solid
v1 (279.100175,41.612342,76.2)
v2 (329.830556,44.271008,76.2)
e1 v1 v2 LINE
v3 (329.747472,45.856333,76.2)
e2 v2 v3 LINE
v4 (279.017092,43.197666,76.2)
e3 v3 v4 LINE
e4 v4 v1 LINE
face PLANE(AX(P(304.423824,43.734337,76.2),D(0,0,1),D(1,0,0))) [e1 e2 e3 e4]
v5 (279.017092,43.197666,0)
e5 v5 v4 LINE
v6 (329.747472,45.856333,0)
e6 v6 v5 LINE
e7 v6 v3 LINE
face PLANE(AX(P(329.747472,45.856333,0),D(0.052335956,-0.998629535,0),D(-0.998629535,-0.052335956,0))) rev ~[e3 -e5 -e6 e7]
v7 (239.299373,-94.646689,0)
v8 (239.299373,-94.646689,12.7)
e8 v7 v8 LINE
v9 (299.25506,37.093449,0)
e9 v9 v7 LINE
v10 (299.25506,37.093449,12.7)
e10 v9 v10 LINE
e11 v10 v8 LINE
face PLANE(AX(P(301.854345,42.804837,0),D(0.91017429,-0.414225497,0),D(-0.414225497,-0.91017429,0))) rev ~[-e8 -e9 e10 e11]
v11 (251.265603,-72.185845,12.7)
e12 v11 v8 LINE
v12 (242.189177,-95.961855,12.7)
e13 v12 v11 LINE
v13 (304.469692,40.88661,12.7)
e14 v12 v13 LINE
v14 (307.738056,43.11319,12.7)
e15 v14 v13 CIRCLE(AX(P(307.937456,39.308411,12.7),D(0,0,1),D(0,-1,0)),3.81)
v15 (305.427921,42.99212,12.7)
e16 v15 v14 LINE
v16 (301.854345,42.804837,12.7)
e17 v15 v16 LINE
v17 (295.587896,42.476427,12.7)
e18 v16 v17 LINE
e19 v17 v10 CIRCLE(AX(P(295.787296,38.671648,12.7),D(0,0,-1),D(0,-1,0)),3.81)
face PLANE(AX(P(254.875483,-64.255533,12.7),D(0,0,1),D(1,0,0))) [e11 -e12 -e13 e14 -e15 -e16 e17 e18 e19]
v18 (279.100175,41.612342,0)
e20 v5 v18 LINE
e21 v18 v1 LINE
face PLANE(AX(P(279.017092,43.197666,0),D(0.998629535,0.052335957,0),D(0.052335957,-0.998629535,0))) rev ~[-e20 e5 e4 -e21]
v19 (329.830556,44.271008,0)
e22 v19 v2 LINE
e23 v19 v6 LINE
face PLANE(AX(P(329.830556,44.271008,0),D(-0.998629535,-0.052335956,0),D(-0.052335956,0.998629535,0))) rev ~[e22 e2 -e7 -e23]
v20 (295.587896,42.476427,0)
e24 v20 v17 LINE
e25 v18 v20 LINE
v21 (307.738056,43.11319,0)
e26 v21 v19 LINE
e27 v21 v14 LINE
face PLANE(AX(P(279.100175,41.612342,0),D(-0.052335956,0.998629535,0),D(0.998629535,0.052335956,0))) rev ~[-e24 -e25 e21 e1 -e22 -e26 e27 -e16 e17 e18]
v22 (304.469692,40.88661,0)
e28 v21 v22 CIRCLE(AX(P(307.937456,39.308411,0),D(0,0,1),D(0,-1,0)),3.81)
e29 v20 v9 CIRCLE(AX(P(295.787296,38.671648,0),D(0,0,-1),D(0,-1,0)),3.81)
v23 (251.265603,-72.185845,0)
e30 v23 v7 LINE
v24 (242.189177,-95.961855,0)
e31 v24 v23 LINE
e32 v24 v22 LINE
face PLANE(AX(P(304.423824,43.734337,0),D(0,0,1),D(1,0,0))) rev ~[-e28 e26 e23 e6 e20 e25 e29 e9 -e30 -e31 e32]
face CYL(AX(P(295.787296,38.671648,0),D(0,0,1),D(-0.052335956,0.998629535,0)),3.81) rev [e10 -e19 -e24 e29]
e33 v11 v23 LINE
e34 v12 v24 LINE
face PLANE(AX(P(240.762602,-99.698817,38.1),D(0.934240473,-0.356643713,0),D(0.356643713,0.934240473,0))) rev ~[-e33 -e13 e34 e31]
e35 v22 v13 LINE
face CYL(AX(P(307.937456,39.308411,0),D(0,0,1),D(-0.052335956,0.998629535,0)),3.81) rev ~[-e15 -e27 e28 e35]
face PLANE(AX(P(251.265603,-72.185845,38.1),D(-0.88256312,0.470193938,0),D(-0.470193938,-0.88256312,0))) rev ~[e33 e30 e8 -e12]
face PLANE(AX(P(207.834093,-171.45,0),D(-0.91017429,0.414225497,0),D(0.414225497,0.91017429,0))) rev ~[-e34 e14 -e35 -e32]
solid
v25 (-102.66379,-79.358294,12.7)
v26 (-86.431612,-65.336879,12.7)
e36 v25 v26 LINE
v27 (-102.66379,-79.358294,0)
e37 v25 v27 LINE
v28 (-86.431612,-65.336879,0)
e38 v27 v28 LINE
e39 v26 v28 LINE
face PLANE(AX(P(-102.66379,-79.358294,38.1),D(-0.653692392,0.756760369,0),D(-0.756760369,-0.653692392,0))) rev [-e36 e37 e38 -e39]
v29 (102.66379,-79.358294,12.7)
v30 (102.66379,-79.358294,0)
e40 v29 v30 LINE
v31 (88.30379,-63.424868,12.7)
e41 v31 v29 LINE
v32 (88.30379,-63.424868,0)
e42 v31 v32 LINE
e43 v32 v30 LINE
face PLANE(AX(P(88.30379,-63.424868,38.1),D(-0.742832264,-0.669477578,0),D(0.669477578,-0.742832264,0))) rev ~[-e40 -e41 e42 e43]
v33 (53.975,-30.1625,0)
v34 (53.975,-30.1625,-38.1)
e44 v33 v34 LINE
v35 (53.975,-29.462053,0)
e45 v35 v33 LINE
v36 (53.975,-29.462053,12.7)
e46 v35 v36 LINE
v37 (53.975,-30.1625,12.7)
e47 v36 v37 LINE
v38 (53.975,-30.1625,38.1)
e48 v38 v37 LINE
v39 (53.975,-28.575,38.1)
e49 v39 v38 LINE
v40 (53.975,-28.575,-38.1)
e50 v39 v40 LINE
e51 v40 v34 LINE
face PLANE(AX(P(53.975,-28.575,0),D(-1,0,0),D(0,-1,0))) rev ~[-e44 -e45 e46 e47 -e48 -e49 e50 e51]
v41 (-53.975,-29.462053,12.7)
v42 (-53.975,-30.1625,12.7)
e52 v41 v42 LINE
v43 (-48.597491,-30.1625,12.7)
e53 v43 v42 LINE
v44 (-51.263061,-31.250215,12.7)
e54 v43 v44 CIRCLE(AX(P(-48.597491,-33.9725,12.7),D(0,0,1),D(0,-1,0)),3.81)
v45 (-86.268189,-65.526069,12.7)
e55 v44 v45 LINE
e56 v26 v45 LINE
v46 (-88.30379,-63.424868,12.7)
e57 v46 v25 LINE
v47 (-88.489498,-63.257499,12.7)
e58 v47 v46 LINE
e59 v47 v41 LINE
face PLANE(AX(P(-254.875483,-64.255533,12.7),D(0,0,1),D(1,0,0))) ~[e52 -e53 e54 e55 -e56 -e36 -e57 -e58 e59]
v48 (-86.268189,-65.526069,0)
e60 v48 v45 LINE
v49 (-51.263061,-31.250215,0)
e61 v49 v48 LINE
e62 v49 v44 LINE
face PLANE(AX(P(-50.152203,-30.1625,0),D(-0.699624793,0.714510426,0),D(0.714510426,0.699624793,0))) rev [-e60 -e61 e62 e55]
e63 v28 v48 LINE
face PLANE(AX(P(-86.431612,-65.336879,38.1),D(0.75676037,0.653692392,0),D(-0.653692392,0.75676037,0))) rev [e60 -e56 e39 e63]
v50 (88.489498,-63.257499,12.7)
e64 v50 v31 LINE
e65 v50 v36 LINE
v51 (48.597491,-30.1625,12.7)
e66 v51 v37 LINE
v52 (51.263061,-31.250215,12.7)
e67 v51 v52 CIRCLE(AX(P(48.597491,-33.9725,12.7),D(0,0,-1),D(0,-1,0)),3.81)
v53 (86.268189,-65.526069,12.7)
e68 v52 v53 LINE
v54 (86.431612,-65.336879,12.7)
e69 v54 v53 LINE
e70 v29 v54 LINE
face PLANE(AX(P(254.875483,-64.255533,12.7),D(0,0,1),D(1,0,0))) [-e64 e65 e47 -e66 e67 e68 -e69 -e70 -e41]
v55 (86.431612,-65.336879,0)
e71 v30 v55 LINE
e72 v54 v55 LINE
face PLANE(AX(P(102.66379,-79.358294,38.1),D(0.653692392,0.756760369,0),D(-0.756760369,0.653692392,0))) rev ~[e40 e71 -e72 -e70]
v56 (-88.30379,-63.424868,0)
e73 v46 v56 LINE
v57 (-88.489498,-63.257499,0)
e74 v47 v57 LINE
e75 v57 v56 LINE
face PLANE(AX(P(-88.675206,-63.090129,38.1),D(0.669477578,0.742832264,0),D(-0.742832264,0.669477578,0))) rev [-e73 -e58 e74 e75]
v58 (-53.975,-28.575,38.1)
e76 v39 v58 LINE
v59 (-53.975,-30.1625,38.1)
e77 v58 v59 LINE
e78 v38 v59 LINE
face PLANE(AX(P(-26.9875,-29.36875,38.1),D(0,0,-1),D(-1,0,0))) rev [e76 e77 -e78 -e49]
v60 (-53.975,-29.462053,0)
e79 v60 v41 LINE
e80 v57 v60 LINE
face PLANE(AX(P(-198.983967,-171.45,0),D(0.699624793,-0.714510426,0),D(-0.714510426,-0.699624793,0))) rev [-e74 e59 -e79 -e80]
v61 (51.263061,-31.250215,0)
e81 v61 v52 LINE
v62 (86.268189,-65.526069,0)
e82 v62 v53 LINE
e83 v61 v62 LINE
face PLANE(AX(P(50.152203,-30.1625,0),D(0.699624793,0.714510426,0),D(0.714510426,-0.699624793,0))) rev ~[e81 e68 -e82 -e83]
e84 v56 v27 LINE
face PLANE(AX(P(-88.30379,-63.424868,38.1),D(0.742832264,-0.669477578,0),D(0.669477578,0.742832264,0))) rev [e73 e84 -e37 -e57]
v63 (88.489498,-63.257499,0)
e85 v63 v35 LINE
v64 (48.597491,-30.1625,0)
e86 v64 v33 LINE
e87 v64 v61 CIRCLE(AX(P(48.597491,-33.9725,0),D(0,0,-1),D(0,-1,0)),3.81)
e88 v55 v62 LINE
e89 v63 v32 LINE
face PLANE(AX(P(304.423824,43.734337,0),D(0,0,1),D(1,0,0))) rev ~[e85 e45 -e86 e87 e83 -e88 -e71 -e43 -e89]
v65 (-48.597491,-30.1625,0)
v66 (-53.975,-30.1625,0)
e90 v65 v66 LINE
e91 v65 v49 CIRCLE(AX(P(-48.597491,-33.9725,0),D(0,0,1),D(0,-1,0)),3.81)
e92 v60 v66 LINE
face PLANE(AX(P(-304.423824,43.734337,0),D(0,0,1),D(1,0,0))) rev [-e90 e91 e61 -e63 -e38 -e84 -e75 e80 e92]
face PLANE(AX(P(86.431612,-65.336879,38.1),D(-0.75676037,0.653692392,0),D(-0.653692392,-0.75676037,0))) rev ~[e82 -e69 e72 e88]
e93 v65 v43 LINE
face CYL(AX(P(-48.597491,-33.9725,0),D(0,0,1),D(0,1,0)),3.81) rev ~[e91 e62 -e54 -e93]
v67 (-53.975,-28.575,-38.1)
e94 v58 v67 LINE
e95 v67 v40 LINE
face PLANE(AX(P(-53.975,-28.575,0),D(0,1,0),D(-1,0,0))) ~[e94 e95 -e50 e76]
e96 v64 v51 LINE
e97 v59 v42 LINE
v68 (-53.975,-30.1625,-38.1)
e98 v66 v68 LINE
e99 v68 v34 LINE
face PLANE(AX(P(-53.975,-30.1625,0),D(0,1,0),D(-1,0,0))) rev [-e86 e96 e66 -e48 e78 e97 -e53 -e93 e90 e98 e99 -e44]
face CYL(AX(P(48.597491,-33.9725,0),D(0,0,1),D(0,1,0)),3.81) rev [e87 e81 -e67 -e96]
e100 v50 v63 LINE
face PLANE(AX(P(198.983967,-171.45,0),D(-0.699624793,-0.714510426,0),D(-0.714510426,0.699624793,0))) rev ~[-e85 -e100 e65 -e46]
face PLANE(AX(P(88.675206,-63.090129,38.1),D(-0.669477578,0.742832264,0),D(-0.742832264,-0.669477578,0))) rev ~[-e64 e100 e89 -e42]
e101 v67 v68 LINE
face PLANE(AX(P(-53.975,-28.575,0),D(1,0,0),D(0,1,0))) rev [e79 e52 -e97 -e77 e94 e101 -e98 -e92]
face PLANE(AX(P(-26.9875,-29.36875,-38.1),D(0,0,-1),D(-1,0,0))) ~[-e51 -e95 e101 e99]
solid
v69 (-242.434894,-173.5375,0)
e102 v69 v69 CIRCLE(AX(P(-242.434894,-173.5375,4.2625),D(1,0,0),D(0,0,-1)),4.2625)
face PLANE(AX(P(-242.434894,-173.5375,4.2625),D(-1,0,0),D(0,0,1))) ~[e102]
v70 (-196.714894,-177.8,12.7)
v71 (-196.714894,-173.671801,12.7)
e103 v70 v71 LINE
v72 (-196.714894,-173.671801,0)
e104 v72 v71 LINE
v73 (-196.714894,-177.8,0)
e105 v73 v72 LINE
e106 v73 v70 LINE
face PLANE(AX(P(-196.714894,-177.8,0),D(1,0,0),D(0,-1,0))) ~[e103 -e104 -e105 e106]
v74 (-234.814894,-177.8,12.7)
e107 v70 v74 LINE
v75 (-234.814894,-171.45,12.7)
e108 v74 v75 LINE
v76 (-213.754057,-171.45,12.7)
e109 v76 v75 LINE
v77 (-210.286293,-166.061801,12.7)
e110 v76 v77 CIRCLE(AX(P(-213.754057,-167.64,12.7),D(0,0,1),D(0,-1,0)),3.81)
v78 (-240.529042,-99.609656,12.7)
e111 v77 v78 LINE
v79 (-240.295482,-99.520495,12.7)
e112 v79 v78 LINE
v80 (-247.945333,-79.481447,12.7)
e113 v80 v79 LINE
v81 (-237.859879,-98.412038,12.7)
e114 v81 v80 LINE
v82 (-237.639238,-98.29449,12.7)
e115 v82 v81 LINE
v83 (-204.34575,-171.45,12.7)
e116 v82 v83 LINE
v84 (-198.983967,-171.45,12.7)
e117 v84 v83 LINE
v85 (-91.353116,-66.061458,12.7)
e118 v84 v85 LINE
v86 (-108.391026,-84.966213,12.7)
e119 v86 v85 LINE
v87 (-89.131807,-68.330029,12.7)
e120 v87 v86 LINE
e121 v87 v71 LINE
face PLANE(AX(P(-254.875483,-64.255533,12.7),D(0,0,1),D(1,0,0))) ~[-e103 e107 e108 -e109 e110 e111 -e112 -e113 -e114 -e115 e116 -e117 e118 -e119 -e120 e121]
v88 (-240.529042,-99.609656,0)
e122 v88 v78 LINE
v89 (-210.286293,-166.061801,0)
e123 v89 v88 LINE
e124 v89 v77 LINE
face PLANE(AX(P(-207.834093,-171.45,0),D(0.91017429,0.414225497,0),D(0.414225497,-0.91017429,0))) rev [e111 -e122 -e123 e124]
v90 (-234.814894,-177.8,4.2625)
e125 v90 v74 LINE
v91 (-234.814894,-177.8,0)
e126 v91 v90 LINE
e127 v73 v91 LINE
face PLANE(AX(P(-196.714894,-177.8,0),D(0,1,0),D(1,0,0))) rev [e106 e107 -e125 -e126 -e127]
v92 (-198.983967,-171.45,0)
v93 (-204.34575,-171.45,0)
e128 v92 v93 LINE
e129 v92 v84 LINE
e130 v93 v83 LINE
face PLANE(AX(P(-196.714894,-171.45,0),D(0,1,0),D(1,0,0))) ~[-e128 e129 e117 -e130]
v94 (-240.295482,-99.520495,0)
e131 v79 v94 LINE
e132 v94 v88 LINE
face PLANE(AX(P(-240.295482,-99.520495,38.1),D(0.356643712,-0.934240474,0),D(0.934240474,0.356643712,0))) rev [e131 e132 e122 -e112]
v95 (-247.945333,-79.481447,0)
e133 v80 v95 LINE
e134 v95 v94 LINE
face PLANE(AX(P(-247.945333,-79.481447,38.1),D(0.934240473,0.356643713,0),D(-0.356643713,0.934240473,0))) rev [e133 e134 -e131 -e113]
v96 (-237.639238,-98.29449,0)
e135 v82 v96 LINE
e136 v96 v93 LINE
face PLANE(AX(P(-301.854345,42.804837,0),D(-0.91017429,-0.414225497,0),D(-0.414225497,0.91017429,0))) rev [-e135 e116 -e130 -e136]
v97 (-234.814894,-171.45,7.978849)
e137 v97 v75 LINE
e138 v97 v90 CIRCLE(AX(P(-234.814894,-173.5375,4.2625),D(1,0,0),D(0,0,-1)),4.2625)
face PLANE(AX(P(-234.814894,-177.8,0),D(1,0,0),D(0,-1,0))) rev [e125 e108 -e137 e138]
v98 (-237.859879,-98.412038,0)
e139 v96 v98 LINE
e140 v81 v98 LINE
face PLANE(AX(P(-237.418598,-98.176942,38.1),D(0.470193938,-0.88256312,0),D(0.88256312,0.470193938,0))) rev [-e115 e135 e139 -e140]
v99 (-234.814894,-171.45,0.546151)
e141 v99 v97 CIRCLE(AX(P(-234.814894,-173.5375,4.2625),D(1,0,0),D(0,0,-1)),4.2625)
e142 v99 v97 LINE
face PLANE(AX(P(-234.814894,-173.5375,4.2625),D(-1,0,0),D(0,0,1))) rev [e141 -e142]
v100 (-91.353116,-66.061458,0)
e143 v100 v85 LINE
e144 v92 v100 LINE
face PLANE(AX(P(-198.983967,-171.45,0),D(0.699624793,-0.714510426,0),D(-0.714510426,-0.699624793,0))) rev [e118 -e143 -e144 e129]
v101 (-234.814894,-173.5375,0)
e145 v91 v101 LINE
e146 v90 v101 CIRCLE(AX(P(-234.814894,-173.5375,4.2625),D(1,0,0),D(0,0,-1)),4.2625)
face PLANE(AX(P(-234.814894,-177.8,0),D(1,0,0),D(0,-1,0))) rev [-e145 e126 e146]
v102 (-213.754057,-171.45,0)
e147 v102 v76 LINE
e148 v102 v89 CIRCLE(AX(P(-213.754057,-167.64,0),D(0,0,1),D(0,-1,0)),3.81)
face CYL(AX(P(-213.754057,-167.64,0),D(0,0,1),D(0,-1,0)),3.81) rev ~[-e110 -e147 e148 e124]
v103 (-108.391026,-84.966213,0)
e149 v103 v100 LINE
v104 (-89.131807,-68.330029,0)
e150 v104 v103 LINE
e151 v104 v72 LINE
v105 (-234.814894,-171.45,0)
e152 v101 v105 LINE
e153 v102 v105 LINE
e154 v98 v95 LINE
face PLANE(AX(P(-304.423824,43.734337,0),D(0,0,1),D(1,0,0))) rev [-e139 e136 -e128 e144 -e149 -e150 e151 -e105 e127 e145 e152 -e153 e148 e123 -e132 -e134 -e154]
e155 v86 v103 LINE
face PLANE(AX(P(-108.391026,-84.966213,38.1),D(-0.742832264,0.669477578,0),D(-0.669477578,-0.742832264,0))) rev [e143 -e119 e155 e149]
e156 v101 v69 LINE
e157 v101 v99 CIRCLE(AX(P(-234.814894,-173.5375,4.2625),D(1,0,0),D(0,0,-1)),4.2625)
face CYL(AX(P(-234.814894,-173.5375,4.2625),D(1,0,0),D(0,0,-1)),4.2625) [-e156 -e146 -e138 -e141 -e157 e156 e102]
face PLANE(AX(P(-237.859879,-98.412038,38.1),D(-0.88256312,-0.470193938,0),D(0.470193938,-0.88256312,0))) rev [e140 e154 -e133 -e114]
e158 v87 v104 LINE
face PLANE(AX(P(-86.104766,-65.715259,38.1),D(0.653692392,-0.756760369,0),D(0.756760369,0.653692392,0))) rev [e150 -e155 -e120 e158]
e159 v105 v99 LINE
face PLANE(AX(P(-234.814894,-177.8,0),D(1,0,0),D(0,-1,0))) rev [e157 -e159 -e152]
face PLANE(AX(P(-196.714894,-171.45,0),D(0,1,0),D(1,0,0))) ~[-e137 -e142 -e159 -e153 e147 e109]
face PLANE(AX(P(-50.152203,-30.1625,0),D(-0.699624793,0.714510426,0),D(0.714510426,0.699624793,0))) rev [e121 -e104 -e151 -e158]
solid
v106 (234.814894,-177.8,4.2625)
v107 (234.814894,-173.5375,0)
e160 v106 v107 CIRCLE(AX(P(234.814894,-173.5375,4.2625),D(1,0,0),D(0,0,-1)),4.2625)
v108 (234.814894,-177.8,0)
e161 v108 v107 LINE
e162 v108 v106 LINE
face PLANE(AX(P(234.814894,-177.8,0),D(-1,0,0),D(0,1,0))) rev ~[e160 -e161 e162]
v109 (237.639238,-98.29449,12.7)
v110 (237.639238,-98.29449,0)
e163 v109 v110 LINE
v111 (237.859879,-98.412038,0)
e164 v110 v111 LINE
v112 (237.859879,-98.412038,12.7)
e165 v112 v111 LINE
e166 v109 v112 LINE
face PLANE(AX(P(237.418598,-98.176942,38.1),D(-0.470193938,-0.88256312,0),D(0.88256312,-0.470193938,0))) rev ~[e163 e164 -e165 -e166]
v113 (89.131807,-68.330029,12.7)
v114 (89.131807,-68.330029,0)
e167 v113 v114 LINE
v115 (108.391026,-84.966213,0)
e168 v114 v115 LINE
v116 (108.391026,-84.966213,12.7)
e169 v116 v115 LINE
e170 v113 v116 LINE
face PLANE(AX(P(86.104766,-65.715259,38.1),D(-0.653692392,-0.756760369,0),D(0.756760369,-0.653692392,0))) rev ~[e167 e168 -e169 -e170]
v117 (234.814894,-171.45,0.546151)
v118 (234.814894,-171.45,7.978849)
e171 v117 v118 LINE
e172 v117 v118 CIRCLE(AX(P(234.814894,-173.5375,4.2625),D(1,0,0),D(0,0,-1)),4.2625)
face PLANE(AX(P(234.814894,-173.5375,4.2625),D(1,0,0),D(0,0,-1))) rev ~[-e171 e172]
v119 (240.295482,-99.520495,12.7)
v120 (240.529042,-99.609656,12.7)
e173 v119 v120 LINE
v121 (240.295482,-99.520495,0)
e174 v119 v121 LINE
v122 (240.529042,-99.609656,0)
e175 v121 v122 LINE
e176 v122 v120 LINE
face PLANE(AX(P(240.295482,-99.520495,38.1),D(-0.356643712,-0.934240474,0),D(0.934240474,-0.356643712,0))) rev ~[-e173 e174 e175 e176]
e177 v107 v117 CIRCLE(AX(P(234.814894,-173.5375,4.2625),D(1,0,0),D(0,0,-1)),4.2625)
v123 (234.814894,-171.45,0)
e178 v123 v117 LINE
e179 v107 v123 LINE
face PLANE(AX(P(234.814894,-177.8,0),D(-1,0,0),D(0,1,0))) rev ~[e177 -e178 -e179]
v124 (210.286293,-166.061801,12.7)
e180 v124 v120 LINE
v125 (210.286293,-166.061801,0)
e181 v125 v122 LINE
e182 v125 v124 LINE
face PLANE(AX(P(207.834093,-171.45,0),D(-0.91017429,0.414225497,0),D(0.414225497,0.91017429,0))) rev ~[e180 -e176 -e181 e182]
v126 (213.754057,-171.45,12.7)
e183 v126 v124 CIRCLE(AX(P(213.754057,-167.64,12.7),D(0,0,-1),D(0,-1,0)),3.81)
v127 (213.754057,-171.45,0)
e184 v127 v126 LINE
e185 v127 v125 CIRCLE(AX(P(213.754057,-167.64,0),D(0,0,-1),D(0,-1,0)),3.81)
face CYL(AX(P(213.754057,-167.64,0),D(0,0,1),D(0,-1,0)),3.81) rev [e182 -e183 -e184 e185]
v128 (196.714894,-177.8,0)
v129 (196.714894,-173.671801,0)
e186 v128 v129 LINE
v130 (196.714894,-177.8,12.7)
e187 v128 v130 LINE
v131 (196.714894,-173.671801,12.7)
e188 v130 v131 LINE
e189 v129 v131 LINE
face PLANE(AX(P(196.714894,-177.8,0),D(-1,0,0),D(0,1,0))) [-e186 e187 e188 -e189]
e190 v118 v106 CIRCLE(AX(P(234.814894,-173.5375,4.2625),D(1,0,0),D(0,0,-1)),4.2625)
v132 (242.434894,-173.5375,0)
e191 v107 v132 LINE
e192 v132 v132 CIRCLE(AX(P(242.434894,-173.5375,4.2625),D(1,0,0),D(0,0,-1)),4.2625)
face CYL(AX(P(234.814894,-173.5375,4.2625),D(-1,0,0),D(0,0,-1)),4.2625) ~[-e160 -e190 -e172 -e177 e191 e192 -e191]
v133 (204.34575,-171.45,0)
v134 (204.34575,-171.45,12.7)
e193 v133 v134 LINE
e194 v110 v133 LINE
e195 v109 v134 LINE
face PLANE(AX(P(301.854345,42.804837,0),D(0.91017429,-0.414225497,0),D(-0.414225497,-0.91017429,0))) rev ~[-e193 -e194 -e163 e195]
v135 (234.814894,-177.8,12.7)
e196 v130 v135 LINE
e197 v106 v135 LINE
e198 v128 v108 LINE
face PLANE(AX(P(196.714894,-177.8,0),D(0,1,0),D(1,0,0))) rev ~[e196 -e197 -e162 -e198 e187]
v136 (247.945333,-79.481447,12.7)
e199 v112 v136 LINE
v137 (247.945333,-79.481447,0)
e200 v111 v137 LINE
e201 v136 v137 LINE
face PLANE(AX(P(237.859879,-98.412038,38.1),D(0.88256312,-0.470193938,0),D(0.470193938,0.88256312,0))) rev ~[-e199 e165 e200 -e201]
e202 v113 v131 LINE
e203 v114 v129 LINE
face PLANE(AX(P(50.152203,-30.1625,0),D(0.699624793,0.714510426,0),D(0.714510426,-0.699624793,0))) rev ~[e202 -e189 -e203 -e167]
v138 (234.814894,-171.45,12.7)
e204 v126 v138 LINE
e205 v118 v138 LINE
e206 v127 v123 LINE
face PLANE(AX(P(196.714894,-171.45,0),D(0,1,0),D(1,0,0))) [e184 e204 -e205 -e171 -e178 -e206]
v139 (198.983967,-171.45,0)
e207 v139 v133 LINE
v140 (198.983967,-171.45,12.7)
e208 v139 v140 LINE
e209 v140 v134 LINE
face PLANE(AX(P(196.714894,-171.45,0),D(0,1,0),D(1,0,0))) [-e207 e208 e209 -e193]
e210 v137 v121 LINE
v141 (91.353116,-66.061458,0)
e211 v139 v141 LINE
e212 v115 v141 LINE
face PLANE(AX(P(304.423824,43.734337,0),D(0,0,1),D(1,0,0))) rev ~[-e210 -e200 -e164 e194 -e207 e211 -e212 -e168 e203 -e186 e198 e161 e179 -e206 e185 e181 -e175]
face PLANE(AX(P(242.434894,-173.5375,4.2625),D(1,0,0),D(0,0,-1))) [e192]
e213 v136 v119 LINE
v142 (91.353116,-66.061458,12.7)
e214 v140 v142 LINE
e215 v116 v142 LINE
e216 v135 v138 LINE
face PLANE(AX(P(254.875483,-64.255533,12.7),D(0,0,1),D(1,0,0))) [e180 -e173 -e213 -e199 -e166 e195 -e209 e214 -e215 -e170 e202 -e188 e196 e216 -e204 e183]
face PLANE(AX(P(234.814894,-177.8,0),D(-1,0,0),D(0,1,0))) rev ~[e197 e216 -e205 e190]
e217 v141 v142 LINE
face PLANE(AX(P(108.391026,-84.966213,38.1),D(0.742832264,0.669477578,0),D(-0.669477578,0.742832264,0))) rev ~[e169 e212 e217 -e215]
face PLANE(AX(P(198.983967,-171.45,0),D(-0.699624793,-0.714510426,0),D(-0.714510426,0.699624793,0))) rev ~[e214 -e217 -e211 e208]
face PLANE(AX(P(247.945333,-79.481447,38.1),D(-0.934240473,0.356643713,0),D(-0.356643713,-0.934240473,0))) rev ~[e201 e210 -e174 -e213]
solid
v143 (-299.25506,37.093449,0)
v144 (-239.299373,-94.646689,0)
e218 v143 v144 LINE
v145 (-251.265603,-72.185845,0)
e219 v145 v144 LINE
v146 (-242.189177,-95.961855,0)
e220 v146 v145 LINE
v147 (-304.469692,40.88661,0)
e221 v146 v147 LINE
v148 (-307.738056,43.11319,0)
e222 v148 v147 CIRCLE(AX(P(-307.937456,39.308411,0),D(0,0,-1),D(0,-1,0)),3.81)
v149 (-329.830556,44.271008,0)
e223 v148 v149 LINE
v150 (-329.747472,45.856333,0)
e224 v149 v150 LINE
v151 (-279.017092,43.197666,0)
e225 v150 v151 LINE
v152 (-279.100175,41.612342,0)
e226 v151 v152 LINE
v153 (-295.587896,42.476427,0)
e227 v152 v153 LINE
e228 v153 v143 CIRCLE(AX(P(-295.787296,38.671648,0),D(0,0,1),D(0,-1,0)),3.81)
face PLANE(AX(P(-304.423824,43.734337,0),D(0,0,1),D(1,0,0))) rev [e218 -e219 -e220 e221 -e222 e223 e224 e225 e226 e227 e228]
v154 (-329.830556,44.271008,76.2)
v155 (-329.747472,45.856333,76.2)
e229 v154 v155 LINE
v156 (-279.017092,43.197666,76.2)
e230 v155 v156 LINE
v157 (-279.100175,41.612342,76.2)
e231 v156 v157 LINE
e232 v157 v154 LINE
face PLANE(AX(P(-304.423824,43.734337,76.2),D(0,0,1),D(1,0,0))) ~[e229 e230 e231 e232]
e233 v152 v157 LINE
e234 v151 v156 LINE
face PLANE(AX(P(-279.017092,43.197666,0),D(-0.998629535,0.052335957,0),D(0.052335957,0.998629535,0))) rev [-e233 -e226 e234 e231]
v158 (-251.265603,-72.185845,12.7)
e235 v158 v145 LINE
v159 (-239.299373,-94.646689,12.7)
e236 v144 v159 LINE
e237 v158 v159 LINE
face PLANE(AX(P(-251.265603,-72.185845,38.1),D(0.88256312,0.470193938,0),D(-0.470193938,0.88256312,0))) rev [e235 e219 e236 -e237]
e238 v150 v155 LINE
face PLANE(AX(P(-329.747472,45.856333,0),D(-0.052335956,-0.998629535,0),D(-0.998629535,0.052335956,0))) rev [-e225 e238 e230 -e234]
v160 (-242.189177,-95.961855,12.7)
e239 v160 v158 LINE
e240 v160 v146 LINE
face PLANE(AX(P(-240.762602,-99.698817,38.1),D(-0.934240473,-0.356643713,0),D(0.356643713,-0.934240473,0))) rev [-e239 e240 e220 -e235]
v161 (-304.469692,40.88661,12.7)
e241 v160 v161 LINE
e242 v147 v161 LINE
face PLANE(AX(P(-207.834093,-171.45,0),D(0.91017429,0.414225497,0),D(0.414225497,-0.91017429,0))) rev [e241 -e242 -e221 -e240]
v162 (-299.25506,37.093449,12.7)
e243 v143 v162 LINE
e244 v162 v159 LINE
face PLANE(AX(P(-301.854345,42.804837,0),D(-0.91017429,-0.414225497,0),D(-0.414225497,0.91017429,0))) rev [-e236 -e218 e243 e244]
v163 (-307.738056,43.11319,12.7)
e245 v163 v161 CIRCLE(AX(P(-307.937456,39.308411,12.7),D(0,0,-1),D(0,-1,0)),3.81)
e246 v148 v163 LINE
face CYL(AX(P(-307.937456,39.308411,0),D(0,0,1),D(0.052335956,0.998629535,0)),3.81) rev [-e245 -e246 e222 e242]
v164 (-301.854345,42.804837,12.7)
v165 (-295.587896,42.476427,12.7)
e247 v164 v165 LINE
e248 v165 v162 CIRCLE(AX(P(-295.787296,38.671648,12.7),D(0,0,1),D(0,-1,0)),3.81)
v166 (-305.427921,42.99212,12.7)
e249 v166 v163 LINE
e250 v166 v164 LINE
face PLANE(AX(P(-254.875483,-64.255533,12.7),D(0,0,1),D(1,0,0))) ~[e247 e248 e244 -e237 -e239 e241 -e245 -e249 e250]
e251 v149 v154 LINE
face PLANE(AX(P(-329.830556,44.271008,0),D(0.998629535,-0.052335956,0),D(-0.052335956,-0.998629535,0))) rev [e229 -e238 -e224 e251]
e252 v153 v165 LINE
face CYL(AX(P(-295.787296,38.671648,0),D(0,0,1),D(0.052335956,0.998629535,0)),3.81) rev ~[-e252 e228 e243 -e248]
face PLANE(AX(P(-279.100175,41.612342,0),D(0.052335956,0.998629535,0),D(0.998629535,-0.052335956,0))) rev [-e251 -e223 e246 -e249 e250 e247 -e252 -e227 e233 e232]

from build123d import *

# Parameters (mm, degrees)
BOSS_EXTRUDE1_DEPTH  = 38.1
BOSS_EXTRUDE2_DEPTH  = 76.2
SKETCH1_6_W          = 38.1
SKETCH1_6_H          = 6.35
BOSS_EXTRUDE8_DEPTH  = 12.7
BOSS_EXTRUDE9_DEPTH  = 12.7
BOSS_EXTRUDE10_DEPTH = 12.7
SKETCH2_R            = 4.2625
BOSS_EXTRUDE11_DEPTH = 7.62
FILLET1_R            = 3.81
CUT_EXTRUDE1_DEPTH   = 383.370861178


with BuildPart() as part:
    # Sketch1 → Boss-Extrude1 (new, symmetric)
    with BuildSketch(Plane.XY):
        Polygon((0, -28.575), (50.8, -28.575), (53.975, -28.575), (53.975, -30.1625), (0, -30.1625), align=None)
    extrude(amount=BOSS_EXTRUDE1_DEPTH, both=True)



with BuildPart() as body_2:
    # Sketch1<4> → Boss-Extrude2 (new body)
    with BuildSketch(Plane.XY):
        Polygon((279.01709201, 43.197666174), (279.100175341, 41.612341788), (329.830555706, 44.271008365), (329.747472376, 45.856332751), align=None)
    extrude(amount=BOSS_EXTRUDE2_DEPTH)


with BuildPart() as body_3:
    # Sketch1<6> → Boss-Extrude8 (new body)
    with BuildSketch(Plane.XY):
        with Locations((215.764893617, -174.625)):
            Rectangle(SKETCH1_6_W, SKETCH1_6_H)
    extrude(amount=BOSS_EXTRUDE8_DEPTH)


with BuildPart() as part_1:
    add(part.part)

    add(body_3.part)  # Boss-Extrude9 merges body 3
    # Sketch1<7> → Boss-Extrude9 (add)
    with BuildSketch(Plane.XY):
        Polygon((53.975, -30.1625), (50.152203206, -30.1625), (196.714893617, -173.671801028), (196.714893617, -171.45), (198.983967007, -171.45), (53.975, -29.462053139), align=None)
    extrude(amount=BOSS_EXTRUDE9_DEPTH)


    add(body_2.part)  # Boss-Extrude10 merges body 2
    # Sketch1<8> → Boss-Extrude10 (add)
    with BuildSketch(Plane.XY):
        Polygon((301.854344952, 42.804837287), (204.345749685, -171.45), (207.834092561, -171.45), (305.427921483, 42.992120497), align=None)
    extrude(amount=BOSS_EXTRUDE10_DEPTH)

    # Sketch2 → Boss-Extrude11 (add)
    with BuildSketch(Plane(origin=(234.814893617, 0, 0), x_dir=(0, 0, -1), z_dir=(1, 0, 0))):
        with Locations((-4.2625, -173.5375)):
            Circle(SKETCH2_R)
    extrude(amount=BOSS_EXTRUDE11_DEPTH)

    # Fillet1
    fillet1_edges = [part_1.edges().sort_by_distance(p)[0] for p in [
        (305.427921483, 42.992120497, 6.35),
        (301.854344952, 42.804837287, 6.35),
        (207.834092561, -171.45, 6.35),
        (50.152203206, -30.1625, 6.35),
    ]]
    fillet(fillet1_edges, radius=FILLET1_R)

    # Sketch3 → Cut-Extrude1 (cut, through all)
    with BuildSketch(Plane.XY.offset(38.1)):
        Polygon((86.104765819, -65.715259435), (108.391026486, -84.966213434), (88.675205699, -63.090129344), (88.303789567, -63.424868133), (102.66378973, -79.358294111), (86.431612015, -65.33687925), align=None)
        Polygon((237.859879225, -98.412038476), (247.945332781, -79.481446973), (240.295481696, -99.520495016), (240.762601933, -99.698816872), (251.265602721, -72.185845043), (237.418597665, -98.176941507), align=None)
    extrude(amount=-CUT_EXTRUDE1_DEPTH, mode=Mode.SUBTRACT)


with BuildPart() as cut_extrude1_piece_1:
    # of the separate pieces the step leaves, piece 1, a body of its own (cut_extrude1_pieces)
    add(part_1.part.solids().sort_by_distance((237.639238445, -98.294489992, 0))[0])


with BuildPart() as cut_extrude1_piece_2:
    # of the separate pieces the step leaves, piece 2, a body of its own (cut_extrude1_pieces)
    add(part_1.part.solids().sort_by_distance((295.587895579, 42.476426591, 0))[0])


with BuildPart() as cut_extrude1_piece_3:
    # of the separate pieces the step leaves, piece 3, a body of its own (cut_extrude1_pieces)
    add(part_1.part.solids().sort_by_distance((88.489497633, -63.257498738, 0))[0])

    # Mirror1: Cut-Extrude1 piece 3 across plane


with BuildPart() as cut_extrude1_piece_3_1:
    add(cut_extrude1_piece_3.part)
    add(cut_extrude1_piece_3.part.mirror(Plane(origin=(0, 0, 0), x_dir=(0, 0, 1), z_dir=(1, 0, 0))))


with BuildPart() as body_4:
    # Mirror2: mirrored copy
    add(cut_extrude1_piece_1.part.mirror(Plane(origin=(0, 0, 0), x_dir=(0, 0, 1), z_dir=(1, 0, 0))))


with BuildPart() as body_5:
    # Mirror2 2: mirrored copy
    add(cut_extrude1_piece_2.part.mirror(Plane(origin=(0, 0, 0), x_dir=(0, 0, 1), z_dir=(1, 0, 0))))


solid = Compound([cut_extrude1_piece_1.part, cut_extrude1_piece_2.part, cut_extrude1_piece_3_1.part, body_4.part, body_5.part])
